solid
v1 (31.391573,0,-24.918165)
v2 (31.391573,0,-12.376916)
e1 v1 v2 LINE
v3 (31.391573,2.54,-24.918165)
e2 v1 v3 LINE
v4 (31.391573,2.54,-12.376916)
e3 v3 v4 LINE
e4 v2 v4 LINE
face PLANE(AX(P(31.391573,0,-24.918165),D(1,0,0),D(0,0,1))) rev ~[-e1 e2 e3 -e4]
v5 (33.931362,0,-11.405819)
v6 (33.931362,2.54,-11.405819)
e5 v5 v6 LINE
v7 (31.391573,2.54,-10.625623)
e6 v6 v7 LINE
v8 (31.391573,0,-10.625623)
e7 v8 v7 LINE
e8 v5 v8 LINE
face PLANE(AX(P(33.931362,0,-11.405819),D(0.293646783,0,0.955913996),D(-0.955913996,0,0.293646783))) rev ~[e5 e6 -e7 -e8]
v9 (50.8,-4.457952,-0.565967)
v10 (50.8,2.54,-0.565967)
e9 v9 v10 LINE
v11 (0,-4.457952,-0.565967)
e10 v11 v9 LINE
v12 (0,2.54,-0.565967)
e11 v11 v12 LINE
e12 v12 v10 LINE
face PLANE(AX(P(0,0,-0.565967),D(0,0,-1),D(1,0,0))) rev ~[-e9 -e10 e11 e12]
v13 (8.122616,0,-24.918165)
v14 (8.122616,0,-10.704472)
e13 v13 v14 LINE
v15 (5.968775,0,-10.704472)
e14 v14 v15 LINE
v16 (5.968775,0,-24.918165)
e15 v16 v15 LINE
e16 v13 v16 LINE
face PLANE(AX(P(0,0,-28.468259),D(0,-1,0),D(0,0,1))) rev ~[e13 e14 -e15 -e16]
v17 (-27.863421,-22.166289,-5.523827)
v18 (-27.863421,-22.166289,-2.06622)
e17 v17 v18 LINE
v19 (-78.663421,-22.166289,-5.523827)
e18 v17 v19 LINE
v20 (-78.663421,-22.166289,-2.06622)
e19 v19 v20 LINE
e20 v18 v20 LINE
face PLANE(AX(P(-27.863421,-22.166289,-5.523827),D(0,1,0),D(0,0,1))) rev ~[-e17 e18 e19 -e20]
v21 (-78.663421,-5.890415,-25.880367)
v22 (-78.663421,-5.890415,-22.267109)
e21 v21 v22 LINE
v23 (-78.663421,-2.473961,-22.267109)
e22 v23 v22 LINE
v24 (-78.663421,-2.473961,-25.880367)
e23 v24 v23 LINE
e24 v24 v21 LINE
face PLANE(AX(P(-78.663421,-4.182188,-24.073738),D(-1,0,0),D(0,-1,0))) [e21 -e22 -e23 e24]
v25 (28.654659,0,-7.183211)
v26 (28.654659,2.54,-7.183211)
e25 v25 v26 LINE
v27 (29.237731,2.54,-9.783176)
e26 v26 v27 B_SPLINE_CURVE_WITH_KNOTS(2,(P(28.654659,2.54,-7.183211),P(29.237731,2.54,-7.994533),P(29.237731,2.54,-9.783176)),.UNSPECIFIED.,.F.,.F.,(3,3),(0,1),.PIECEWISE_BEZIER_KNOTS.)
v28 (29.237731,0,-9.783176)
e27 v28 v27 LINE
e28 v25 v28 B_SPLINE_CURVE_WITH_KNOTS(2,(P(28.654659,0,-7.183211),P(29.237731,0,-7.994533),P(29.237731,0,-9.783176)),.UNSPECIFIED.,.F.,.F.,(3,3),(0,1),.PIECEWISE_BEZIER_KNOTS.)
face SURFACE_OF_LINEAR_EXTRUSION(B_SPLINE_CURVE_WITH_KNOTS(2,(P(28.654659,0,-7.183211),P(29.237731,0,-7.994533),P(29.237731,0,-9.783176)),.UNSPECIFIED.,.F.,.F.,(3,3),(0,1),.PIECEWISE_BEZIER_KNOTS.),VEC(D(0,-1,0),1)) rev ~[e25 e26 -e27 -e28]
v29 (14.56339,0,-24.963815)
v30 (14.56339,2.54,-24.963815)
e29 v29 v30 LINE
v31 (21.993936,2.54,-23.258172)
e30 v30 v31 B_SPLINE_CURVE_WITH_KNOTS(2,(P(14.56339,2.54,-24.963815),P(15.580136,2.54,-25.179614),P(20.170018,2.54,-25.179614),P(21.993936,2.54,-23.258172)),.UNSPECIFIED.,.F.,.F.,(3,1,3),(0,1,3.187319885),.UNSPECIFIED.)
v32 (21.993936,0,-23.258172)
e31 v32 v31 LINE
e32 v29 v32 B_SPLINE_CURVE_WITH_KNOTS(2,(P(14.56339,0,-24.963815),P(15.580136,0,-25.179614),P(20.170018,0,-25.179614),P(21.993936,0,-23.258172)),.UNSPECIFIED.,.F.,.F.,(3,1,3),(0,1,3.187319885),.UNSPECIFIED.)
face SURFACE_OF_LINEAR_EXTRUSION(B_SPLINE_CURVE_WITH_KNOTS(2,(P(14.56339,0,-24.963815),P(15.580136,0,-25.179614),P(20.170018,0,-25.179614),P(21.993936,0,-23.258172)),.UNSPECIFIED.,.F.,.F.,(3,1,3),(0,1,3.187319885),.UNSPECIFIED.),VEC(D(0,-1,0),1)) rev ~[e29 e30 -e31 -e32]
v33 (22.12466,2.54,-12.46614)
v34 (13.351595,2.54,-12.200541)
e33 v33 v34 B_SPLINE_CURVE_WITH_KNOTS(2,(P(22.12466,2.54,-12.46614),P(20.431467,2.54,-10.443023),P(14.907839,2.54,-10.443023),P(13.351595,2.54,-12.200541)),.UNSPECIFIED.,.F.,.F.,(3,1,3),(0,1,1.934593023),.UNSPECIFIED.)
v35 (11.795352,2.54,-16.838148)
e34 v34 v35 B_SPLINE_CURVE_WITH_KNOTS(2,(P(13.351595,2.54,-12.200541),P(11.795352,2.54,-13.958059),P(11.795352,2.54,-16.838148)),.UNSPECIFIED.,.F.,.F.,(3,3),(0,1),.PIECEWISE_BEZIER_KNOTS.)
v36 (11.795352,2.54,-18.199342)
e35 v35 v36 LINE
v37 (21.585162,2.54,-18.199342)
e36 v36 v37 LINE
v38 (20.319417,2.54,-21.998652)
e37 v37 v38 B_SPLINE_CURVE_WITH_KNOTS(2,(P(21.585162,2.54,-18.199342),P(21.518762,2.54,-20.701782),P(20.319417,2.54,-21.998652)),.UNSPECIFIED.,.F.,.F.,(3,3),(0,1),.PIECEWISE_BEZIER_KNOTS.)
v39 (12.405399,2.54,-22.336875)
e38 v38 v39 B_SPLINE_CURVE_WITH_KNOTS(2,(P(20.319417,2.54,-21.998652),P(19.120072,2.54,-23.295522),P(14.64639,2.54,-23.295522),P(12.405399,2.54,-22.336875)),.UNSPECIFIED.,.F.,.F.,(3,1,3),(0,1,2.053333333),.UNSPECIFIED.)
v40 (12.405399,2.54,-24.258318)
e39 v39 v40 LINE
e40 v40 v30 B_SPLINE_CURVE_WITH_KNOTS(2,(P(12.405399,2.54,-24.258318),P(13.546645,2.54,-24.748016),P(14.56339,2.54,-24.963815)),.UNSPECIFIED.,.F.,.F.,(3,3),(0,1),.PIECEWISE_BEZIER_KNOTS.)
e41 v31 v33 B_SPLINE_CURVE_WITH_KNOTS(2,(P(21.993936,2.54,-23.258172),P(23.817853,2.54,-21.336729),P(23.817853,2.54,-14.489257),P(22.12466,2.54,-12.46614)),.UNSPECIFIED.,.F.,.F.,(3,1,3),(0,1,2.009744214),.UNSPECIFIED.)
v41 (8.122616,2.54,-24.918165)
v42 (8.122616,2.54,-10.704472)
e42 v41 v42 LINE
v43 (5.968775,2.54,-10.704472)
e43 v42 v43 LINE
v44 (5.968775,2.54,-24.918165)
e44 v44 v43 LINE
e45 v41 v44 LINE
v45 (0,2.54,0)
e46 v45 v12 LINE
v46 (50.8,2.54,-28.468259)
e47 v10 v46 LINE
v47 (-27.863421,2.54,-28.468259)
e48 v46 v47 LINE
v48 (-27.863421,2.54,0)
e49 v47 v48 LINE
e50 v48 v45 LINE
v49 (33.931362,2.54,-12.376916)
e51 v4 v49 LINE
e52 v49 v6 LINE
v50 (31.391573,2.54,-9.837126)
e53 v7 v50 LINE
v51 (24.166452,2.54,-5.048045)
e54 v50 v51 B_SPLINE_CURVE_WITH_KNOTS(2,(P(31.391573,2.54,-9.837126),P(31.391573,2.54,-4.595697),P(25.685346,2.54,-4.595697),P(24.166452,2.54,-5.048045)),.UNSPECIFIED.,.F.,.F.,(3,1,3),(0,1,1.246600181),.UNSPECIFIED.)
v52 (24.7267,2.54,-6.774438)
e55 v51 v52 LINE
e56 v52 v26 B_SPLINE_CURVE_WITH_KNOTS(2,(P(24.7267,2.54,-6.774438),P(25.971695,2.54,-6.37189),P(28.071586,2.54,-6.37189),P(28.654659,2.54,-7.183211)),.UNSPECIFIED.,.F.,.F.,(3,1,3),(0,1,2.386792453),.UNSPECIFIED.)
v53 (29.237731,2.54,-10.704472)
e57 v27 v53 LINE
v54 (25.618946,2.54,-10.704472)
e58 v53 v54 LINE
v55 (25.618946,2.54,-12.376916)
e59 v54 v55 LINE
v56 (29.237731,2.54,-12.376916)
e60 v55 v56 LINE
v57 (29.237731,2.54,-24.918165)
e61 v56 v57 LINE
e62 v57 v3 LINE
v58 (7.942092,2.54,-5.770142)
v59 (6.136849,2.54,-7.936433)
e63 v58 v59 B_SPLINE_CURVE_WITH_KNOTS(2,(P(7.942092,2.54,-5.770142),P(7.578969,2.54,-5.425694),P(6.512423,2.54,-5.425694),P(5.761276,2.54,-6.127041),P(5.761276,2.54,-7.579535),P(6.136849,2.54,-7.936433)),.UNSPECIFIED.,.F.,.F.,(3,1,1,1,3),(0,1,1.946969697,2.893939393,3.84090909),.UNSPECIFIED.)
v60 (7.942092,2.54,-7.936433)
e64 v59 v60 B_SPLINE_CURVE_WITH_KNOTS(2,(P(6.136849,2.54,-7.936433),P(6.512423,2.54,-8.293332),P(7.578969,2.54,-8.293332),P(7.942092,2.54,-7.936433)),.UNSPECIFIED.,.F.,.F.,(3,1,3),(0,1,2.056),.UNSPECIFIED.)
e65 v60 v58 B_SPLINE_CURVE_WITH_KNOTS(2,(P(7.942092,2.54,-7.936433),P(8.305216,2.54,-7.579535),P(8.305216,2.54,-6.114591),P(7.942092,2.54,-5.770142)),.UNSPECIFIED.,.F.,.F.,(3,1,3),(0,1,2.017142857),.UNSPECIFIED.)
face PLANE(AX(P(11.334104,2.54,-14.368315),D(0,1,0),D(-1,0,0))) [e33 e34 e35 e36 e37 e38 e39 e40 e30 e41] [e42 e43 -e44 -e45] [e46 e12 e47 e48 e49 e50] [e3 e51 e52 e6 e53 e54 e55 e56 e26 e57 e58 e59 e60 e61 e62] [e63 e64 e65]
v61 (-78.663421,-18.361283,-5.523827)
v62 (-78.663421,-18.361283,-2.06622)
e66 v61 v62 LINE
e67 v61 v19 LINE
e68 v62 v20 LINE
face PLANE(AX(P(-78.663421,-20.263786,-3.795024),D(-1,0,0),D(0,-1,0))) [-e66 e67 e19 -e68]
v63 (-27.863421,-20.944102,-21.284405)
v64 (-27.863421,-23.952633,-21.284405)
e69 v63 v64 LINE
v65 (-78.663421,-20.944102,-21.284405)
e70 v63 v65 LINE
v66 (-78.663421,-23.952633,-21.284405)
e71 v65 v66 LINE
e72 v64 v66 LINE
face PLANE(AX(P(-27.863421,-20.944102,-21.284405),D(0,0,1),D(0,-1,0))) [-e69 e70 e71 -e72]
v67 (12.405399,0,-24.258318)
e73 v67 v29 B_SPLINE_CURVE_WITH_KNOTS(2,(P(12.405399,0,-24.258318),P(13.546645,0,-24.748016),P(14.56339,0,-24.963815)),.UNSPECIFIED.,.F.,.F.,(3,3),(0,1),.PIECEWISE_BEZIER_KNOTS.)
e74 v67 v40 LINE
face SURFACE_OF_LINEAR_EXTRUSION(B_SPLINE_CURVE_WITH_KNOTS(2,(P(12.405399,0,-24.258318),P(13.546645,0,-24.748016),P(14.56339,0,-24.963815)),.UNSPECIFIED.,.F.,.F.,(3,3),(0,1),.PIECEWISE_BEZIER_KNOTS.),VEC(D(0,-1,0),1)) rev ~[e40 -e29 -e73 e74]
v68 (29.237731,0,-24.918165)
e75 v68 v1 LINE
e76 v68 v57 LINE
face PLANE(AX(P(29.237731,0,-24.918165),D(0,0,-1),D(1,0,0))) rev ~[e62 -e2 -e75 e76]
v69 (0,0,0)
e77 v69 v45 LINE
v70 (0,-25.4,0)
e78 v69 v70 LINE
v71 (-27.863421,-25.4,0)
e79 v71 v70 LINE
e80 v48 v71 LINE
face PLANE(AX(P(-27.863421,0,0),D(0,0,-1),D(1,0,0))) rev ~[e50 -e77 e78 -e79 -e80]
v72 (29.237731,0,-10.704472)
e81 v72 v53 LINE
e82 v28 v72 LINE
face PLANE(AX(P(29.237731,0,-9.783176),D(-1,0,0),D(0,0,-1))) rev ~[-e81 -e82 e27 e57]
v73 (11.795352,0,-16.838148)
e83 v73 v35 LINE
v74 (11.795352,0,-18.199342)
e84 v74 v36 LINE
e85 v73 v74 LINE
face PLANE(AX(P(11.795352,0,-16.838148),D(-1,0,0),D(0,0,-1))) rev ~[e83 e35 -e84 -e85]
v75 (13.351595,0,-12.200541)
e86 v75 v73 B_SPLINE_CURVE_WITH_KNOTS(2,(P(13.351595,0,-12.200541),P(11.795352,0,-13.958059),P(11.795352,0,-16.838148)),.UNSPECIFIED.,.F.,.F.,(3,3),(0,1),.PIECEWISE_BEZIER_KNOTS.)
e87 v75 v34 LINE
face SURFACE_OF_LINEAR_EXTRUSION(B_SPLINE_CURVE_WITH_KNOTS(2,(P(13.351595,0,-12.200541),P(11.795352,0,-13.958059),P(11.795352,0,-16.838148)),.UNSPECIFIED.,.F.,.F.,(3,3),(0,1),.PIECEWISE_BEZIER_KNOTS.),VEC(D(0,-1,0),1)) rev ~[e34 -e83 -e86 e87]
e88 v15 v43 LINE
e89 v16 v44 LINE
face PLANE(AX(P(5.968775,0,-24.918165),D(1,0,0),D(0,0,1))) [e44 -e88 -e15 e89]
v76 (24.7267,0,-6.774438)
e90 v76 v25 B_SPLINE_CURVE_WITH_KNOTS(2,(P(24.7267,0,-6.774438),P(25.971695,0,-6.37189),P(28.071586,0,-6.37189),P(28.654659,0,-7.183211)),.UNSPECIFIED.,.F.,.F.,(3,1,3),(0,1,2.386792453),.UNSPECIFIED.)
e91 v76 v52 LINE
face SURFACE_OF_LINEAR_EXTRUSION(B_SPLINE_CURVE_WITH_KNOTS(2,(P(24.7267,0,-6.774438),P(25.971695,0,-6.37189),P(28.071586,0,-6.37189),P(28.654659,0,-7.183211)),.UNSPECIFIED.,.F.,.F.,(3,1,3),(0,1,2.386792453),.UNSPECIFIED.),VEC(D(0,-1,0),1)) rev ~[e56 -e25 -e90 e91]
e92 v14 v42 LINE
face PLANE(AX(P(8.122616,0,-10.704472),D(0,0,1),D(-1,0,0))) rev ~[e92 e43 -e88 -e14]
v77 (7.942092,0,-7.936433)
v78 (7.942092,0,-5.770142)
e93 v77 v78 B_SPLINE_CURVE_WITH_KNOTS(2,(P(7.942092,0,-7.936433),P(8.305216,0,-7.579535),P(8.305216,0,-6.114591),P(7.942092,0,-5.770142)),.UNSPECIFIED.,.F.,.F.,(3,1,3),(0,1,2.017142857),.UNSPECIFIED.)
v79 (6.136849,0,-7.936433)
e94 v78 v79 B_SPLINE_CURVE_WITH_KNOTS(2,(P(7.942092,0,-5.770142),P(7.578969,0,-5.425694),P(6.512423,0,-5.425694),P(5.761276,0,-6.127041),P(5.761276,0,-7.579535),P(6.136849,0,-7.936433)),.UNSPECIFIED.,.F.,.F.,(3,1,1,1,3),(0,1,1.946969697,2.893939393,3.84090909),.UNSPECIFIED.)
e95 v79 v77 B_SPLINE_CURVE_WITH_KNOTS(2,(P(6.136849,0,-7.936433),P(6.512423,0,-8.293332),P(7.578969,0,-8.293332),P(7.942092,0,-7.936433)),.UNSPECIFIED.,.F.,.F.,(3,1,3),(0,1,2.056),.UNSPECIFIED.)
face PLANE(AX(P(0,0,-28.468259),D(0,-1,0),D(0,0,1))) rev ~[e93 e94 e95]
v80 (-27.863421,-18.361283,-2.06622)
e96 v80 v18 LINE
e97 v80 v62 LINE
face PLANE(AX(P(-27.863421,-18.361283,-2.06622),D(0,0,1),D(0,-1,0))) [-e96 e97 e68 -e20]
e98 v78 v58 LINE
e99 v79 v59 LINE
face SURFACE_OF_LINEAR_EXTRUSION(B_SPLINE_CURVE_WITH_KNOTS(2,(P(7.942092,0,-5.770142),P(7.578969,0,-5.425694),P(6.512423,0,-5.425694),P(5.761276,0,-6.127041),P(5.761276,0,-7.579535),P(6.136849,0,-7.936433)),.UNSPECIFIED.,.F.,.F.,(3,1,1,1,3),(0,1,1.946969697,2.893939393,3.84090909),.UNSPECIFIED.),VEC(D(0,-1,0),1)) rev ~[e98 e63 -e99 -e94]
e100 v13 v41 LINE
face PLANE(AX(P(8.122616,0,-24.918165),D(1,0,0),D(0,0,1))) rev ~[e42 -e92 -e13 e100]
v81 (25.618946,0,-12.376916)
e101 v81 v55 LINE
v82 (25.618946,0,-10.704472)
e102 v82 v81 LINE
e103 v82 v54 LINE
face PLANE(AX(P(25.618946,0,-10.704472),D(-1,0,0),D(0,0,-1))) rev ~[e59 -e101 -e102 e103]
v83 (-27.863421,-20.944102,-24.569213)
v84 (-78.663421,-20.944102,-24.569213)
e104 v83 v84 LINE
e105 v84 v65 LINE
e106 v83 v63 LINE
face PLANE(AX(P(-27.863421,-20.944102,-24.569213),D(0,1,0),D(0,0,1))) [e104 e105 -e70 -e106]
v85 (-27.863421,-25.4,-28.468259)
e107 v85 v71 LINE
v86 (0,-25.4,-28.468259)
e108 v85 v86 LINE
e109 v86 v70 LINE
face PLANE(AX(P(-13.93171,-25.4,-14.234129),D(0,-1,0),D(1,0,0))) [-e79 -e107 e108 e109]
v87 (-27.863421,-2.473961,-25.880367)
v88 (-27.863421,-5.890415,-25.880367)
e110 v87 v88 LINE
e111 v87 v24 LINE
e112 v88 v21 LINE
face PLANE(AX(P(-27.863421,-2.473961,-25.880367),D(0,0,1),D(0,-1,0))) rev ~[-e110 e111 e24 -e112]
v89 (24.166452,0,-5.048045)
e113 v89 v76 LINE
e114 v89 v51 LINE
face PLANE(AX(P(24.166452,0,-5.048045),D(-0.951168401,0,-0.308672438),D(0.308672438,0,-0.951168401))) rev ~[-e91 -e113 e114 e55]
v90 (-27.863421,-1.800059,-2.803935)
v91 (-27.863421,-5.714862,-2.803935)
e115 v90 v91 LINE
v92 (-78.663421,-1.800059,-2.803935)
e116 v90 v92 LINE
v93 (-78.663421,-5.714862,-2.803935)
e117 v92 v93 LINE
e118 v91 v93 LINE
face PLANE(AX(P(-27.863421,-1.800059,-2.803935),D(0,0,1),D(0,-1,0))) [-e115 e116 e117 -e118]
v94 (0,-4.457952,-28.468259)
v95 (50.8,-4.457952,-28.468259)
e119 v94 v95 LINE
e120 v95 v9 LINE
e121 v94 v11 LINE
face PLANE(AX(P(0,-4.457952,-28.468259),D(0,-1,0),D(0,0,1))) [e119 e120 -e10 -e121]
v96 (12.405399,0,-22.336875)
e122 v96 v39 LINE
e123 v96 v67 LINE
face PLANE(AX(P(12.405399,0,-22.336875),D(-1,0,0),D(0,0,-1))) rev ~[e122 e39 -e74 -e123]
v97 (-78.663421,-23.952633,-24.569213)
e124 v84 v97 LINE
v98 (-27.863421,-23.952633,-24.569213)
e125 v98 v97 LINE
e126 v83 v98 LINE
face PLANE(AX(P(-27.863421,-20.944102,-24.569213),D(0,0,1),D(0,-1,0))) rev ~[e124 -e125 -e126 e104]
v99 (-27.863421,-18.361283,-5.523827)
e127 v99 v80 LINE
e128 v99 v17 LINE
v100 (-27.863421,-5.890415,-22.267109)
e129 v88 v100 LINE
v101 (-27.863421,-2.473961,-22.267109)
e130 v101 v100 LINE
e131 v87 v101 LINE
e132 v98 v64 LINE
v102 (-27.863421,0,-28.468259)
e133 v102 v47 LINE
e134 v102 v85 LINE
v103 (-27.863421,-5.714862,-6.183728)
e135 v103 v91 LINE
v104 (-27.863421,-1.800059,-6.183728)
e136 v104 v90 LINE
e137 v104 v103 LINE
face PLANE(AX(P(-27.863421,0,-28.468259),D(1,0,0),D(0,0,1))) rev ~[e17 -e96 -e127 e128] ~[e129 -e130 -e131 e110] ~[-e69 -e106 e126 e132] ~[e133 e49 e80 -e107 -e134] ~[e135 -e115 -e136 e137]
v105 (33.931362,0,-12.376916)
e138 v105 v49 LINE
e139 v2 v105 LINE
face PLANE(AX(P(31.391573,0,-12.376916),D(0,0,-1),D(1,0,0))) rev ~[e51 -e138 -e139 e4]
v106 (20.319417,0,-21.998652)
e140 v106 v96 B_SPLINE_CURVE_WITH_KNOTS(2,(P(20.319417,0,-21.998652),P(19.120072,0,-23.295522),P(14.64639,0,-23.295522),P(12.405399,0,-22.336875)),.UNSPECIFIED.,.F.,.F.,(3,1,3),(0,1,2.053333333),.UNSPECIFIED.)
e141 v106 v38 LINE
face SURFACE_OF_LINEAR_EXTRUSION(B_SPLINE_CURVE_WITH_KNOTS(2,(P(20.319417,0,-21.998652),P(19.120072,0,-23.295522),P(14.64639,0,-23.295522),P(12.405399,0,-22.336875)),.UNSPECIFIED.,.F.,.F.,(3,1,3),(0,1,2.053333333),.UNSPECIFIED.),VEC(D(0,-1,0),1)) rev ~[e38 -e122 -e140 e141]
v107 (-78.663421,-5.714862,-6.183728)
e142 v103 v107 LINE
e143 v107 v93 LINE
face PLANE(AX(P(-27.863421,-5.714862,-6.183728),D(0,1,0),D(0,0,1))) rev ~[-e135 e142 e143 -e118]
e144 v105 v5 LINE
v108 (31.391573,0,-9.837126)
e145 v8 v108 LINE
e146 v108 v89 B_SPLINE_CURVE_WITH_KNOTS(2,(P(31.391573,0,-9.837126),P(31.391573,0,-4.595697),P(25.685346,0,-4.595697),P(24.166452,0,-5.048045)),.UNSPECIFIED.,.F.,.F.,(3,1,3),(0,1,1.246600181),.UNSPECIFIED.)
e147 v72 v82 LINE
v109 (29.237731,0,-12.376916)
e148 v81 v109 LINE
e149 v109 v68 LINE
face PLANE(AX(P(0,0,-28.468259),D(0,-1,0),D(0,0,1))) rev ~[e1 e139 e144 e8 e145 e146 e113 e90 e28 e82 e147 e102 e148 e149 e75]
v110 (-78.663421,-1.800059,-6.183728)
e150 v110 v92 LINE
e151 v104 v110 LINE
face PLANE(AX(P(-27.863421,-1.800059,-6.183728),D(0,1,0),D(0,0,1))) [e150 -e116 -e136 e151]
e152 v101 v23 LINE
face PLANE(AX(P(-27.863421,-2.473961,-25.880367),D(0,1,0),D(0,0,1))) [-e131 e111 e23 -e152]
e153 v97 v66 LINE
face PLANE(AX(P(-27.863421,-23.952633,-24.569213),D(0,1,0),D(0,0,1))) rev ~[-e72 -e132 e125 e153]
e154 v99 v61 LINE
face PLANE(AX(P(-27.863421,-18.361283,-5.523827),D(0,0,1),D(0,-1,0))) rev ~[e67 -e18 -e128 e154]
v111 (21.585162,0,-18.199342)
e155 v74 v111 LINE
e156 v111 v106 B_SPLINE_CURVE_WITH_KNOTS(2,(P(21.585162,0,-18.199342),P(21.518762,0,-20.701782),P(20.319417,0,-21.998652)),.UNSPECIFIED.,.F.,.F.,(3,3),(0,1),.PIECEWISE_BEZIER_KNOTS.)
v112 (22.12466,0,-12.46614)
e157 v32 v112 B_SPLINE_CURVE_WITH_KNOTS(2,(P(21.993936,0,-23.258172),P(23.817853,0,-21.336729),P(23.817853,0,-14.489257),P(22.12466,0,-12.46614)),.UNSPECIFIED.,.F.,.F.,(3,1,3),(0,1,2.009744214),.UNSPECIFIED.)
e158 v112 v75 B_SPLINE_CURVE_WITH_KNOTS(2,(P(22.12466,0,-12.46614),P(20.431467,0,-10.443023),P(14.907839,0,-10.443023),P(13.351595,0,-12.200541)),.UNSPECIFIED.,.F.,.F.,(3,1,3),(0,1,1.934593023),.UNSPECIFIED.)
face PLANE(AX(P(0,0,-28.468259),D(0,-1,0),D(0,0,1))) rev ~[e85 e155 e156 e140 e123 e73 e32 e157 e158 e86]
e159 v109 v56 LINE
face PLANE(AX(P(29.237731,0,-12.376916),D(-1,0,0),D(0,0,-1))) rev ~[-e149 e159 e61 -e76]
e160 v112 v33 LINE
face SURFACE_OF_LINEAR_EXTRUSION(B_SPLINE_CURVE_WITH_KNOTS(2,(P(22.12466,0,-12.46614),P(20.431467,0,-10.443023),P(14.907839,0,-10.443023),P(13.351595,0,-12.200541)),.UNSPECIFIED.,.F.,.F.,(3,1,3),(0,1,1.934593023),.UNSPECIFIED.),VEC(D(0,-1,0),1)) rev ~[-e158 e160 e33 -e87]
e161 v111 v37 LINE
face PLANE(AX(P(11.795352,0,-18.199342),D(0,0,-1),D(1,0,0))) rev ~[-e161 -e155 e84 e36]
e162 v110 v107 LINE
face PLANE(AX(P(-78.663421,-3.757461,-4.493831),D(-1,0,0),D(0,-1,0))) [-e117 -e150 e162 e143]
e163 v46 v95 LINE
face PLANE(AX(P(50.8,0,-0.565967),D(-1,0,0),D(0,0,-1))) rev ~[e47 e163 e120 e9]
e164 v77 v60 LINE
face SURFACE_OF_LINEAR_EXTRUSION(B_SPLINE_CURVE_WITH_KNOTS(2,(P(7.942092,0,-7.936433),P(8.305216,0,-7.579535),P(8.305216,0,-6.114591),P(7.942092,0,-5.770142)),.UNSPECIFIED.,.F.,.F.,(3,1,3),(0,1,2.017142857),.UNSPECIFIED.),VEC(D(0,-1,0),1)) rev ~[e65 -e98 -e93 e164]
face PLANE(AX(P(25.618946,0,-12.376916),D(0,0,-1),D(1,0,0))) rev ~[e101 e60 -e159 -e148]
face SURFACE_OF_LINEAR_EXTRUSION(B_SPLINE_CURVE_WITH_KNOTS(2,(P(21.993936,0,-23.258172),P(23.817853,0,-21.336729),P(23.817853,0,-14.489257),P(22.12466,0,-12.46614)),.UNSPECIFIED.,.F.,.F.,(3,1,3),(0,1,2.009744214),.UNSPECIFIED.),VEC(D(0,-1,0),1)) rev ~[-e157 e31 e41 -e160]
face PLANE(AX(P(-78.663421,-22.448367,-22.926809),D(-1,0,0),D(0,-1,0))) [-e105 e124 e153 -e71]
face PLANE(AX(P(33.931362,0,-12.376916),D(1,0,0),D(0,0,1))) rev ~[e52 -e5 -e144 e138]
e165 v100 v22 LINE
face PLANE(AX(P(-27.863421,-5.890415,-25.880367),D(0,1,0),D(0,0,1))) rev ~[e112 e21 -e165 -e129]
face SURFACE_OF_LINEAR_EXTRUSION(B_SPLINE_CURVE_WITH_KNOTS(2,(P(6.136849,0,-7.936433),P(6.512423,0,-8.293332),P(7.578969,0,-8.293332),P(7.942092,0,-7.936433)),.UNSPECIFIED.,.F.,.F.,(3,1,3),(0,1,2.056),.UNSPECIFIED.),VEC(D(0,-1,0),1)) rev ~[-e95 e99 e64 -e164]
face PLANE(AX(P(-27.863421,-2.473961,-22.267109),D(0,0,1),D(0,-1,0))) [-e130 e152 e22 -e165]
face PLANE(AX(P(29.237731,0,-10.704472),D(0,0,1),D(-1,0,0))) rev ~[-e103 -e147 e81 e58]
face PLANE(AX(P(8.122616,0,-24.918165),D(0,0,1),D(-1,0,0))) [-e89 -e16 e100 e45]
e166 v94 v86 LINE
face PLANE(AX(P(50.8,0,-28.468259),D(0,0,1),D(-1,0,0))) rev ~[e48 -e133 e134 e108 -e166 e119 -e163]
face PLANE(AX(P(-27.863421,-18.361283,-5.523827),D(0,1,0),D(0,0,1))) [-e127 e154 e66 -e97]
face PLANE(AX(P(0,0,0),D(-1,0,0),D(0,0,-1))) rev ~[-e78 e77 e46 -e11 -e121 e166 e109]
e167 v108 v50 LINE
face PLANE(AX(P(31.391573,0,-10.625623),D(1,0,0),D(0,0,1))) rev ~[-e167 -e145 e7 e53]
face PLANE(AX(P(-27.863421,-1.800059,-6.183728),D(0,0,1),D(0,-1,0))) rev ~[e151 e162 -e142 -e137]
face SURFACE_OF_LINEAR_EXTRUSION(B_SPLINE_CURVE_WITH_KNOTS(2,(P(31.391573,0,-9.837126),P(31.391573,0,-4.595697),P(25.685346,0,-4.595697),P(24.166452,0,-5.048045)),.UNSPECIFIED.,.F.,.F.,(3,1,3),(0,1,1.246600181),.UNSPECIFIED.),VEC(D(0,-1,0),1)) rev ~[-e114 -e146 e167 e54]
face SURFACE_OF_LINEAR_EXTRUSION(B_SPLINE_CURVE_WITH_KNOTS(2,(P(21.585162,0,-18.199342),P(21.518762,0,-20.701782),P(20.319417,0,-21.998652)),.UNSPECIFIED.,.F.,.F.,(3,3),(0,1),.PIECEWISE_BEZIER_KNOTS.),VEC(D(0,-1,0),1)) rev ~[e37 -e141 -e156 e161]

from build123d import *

# Parameters (mm, degrees)
F0_W      = 27.8634205461
F0_H      = 28.4682586789
F1_DEPTH  = 25.4
F2_W      = 3.9148032665
F2_H      = 3.3797924407
F3_DEPTH  = 50.8
F4_W      = 3.8050059229
F4_H      = 3.4576065373
F5_DEPTH  = 50.8
F6_W      = 3.416453721
F6_H      = 3.6132577807
F7_DEPTH  = 50.8
F9_W      = 3.0085314065
F9_H      = 3.2848082483
F10_DEPTH = 50.8
F8_W      = 4.4579515234
F8_H      = 27.902291331
F11_DEPTH = 50.8
F12_W     = 2.1538413306
F12_H     = 14.2136927884
F13_DEPTH = 2.54


with BuildPart() as f1:
    # F0 (on Front) → F1 (new body)
    with BuildSketch(Plane.XZ):
        with Locations((-13.931710273, -14.2341293395)):
            Rectangle(F0_W, F0_H)
    extrude(amount=F1_DEPTH)

    # F2 (on face) → F3 (join)
    with BuildSketch(Plane(origin=(-27.8634205461, 0, 0), x_dir=(0, -1, 0), z_dir=(-1, 0, 0))):
        with Locations((3.7574605085, -4.493831424)):
            Rectangle(F2_W, F2_H)
    extrude(amount=F3_DEPTH)

    # F4 (on face) → F5 (join)
    with BuildSketch(Plane(origin=(-27.8634205461, 0, 0), x_dir=(0, -1, 0), z_dir=(-1, 0, 0))):
        with Locations((20.2637864277, -3.7950236583)):
            Rectangle(F4_W, F4_H)
    extrude(amount=F5_DEPTH)

    # F6 (on face) → F7 (join)
    with BuildSketch(Plane(origin=(-27.8634205461, 0, 0), x_dir=(0, -1, 0), z_dir=(-1, 0, 0))):
        with Locations((4.1821881896, -24.0737376735)):
            Rectangle(F6_W, F6_H)
    extrude(amount=F7_DEPTH)

    # F9 (on face) → F10 (join)
    with BuildSketch(Plane(origin=(-27.8634205461, 0, 0), x_dir=(0, -1, 0), z_dir=(-1, 0, 0))):
        with Locations((22.4483674392, -22.9268092662)):
            Rectangle(F9_W, F9_H)
    extrude(amount=F10_DEPTH)

    # F8 (on face) → F11 (join)
    with BuildSketch(Plane.YZ):
        with Locations((-2.2289757617, -14.5171130134)):
            Rectangle(F8_W, F8_H)
    extrude(amount=F11_DEPTH)

    # F12 (on face) → F13 (join)
    with BuildSketch(Plane(origin=(0, 0, 0), x_dir=(-1, 0, 0), z_dir=(0, 1, 0))):
        Polygon((27.8634205461, 0), (0, 0), (0, -0.5659673479), (-50.8, -0.5659673479), (-50.8, -28.4682586789), (27.8634205461, -28.4682586789), align=None)
        with BuildLine():
            add(Edge.make_bspline(
                [(-14.5633904309, -24.9638148742), (-15.5801363384, -25.1796140055), (-17.0201805421, -25.1796140055)],
                knots=[0, 0, 0, 1, 1, 1], degree=2))
            add(Edge.make_bspline(
                [(-17.0201805421, -25.1796140055), (-20.1700178637, -25.1796140055), (-21.9939355222, -23.2581717395)],
                knots=[0, 0, 0, 1, 1, 1], degree=2))
            add(Edge.make_bspline(
                [(-21.9939355222, -23.2581717395), (-23.8178531807, -21.3367294736), (-23.8178531807, -17.9295931876)],
                knots=[0, 0, 0, 1, 1, 1], degree=2))
            add(Edge.make_bspline(
                [(-23.8178531807, -17.9295931876), (-23.8178531807, -14.4892570354), (-22.124659996, -12.4661401786)],
                knots=[0, 0, 0, 1, 1, 1], degree=2))
            add(Edge.make_bspline(
                [(-22.124659996, -12.4661401786), (-20.4314668113, -10.4430233219), (-17.5762783037, -10.4430233219)],
                knots=[0, 0, 0, 1, 1, 1], degree=2))
            add(Edge.make_bspline(
                [(-17.5762783037, -10.4430233219), (-14.9078390445, -10.4430233219), (-13.3515953086, -12.2005412477)],
                knots=[0, 0, 0, 1, 1, 1], degree=2))
            add(Edge.make_bspline(
                [(-13.3515953086, -12.2005412477), (-11.7953515726, -13.9580591735), (-11.7953515726, -16.8381475808)],
                knots=[0, 0, 0, 1, 1, 1], degree=2))
            Line((-11.7953515726, -16.8381475808), (-11.7953515726, -18.1993421019))
            Line((-11.7953515726, -18.1993421019), (-21.5851621676, -18.1993421019))
            add(Edge.make_bspline(
                [(-21.5851621676, -18.1993421019), (-21.5187624348, -20.7017820293), (-20.3194172623, -21.9986518093)],
                knots=[0, 0, 0, 1, 1, 1], degree=2))
            add(Edge.make_bspline(
                [(-20.3194172623, -21.9986518093), (-19.1200720898, -23.2955215892), (-16.9413308595, -23.2955215892)],
                knots=[0, 0, 0, 1, 1, 1], degree=2))
            add(Edge.make_bspline(
                [(-16.9413308595, -23.2955215892), (-14.6463900969, -23.2955215892), (-12.4053991171, -22.3368754479)],
                knots=[0, 0, 0, 1, 1, 1], degree=2))
            Line((-12.4053991171, -22.3368754479), (-12.4053991171, -24.2583177139))
            add(Edge.make_bspline(
                [(-12.4053991171, -24.2583177139), (-13.5466445235, -24.7480157428), (-14.5633904309, -24.9638148742)],
                knots=[0, 0, 0, 1, 1, 1], degree=2))
        make_face(mode=Mode.SUBTRACT)
        with BuildLine():
            Line((-25.6189459312, -10.7044722695), (-25.6189459312, -12.3769155378))
            Line((-25.6189459312, -12.3769155378), (-29.2377313652, -12.3769155378))
            Line((-29.2377313652, -12.3769155378), (-29.2377313652, -24.9181650579))
            Line((-29.2377313652, -24.9181650579), (-31.3915726957, -24.9181650579))
            Line((-31.3915726957, -24.9181650579), (-31.3915726957, -12.3769155378))
            Line((-31.3915726957, -12.3769155378), (-33.9313624728, -12.3769155378))
            Line((-33.9313624728, -12.3769155378), (-33.9313624728, -11.4058194465))
            Line((-33.9313624728, -11.4058194465), (-31.3915726957, -10.6256225869))
            Line((-31.3915726957, -10.6256225869), (-31.3915726957, -9.8371257607))
            add(Edge.make_bspline(
                [(-31.3915726957, -9.8371257607), (-31.3915726957, -4.595696858), (-26.8141411204, -4.595696858)],
                knots=[0, 0, 0, 1, 1, 1], degree=2))
            add(Edge.make_bspline(
                [(-26.8141411204, -4.595696858), (-25.6853456639, -4.595696858), (-24.1664517776, -5.0480450373)],
                knots=[0, 0, 0, 1, 1, 1], degree=2))
            Line((-24.1664517776, -5.0480450373), (-24.7266995225, -6.7744380883))
            add(Edge.make_bspline(
                [(-24.7266995225, -6.7744380883), (-25.9716945113, -6.3718897086), (-26.85149097, -6.3718897086)],
                knots=[0, 0, 0, 1, 1, 1], degree=2))
            add(Edge.make_bspline(
                [(-26.85149097, -6.3718897086), (-28.071586059, -6.3718897086), (-28.6546587121, -7.183211443)],
                knots=[0, 0, 0, 1, 1, 1], degree=2))
            add(Edge.make_bspline(
                [(-28.6546587121, -7.183211443), (-29.2377313652, -7.9945331773), (-29.2377313652, -9.7831759778)],
                knots=[0, 0, 0, 1, 1, 1], degree=2))
            Line((-29.2377313652, -9.7831759778), (-29.2377313652, -10.7044722695))
            Line((-29.2377313652, -10.7044722695), (-25.6189459312, -10.7044722695))
        make_face(mode=Mode.SUBTRACT)
        with Locations((-7.0456956905, -17.8113186637)):
            Rectangle(F12_W, F12_H, mode=Mode.SUBTRACT)
        with BuildLine():
            add(Edge.make_bspline(
                [(-7.9420920824, -7.9364334112), (-8.3052156208, -7.5795348477), (-8.3052156208, -6.853287771)],
                knots=[0, 0, 0, 1, 1, 1], degree=2))
            add(Edge.make_bspline(
                [(-8.3052156208, -6.853287771), (-8.3052156208, -6.1145907443), (-7.9420920824, -5.7701421307)],
                knots=[0, 0, 0, 1, 1, 1], degree=2))
            add(Edge.make_bspline(
                [(-7.9420920824, -5.7701421307), (-7.578968544, -5.4256935172), (-7.0311707489, -5.4256935172)],
                knots=[0, 0, 0, 1, 1, 1], degree=2))
            add(Edge.make_bspline(
                [(-7.0311707489, -5.4256935172), (-6.512422837, -5.4256935172), (-6.1368493487, -5.7763671057)],
                knots=[0, 0, 0, 1, 1, 1], degree=2))
            add(Edge.make_bspline(
                [(-6.1368493487, -5.7763671057), (-5.7612758604, -6.1270406942), (-5.7612758604, -6.853287771)],
                knots=[0, 0, 0, 1, 1, 1], degree=2))
            add(Edge.make_bspline(
                [(-5.7612758604, -6.853287771), (-5.7612758604, -7.5795348477), (-6.1368493487, -7.9364334112)],
                knots=[0, 0, 0, 1, 1, 1], degree=2))
            add(Edge.make_bspline(
                [(-6.1368493487, -7.9364334112), (-6.512422837, -8.2933319746), (-7.0311707489, -8.2933319746)],
                knots=[0, 0, 0, 1, 1, 1], degree=2))
            add(Edge.make_bspline(
                [(-7.0311707489, -8.2933319746), (-7.578968544, -8.2933319746), (-7.9420920824, -7.9364334112)],
                knots=[0, 0, 0, 1, 1, 1], degree=2))
        make_face(mode=Mode.SUBTRACT)
    extrude(amount=F13_DEPTH)


solid = f1.part
